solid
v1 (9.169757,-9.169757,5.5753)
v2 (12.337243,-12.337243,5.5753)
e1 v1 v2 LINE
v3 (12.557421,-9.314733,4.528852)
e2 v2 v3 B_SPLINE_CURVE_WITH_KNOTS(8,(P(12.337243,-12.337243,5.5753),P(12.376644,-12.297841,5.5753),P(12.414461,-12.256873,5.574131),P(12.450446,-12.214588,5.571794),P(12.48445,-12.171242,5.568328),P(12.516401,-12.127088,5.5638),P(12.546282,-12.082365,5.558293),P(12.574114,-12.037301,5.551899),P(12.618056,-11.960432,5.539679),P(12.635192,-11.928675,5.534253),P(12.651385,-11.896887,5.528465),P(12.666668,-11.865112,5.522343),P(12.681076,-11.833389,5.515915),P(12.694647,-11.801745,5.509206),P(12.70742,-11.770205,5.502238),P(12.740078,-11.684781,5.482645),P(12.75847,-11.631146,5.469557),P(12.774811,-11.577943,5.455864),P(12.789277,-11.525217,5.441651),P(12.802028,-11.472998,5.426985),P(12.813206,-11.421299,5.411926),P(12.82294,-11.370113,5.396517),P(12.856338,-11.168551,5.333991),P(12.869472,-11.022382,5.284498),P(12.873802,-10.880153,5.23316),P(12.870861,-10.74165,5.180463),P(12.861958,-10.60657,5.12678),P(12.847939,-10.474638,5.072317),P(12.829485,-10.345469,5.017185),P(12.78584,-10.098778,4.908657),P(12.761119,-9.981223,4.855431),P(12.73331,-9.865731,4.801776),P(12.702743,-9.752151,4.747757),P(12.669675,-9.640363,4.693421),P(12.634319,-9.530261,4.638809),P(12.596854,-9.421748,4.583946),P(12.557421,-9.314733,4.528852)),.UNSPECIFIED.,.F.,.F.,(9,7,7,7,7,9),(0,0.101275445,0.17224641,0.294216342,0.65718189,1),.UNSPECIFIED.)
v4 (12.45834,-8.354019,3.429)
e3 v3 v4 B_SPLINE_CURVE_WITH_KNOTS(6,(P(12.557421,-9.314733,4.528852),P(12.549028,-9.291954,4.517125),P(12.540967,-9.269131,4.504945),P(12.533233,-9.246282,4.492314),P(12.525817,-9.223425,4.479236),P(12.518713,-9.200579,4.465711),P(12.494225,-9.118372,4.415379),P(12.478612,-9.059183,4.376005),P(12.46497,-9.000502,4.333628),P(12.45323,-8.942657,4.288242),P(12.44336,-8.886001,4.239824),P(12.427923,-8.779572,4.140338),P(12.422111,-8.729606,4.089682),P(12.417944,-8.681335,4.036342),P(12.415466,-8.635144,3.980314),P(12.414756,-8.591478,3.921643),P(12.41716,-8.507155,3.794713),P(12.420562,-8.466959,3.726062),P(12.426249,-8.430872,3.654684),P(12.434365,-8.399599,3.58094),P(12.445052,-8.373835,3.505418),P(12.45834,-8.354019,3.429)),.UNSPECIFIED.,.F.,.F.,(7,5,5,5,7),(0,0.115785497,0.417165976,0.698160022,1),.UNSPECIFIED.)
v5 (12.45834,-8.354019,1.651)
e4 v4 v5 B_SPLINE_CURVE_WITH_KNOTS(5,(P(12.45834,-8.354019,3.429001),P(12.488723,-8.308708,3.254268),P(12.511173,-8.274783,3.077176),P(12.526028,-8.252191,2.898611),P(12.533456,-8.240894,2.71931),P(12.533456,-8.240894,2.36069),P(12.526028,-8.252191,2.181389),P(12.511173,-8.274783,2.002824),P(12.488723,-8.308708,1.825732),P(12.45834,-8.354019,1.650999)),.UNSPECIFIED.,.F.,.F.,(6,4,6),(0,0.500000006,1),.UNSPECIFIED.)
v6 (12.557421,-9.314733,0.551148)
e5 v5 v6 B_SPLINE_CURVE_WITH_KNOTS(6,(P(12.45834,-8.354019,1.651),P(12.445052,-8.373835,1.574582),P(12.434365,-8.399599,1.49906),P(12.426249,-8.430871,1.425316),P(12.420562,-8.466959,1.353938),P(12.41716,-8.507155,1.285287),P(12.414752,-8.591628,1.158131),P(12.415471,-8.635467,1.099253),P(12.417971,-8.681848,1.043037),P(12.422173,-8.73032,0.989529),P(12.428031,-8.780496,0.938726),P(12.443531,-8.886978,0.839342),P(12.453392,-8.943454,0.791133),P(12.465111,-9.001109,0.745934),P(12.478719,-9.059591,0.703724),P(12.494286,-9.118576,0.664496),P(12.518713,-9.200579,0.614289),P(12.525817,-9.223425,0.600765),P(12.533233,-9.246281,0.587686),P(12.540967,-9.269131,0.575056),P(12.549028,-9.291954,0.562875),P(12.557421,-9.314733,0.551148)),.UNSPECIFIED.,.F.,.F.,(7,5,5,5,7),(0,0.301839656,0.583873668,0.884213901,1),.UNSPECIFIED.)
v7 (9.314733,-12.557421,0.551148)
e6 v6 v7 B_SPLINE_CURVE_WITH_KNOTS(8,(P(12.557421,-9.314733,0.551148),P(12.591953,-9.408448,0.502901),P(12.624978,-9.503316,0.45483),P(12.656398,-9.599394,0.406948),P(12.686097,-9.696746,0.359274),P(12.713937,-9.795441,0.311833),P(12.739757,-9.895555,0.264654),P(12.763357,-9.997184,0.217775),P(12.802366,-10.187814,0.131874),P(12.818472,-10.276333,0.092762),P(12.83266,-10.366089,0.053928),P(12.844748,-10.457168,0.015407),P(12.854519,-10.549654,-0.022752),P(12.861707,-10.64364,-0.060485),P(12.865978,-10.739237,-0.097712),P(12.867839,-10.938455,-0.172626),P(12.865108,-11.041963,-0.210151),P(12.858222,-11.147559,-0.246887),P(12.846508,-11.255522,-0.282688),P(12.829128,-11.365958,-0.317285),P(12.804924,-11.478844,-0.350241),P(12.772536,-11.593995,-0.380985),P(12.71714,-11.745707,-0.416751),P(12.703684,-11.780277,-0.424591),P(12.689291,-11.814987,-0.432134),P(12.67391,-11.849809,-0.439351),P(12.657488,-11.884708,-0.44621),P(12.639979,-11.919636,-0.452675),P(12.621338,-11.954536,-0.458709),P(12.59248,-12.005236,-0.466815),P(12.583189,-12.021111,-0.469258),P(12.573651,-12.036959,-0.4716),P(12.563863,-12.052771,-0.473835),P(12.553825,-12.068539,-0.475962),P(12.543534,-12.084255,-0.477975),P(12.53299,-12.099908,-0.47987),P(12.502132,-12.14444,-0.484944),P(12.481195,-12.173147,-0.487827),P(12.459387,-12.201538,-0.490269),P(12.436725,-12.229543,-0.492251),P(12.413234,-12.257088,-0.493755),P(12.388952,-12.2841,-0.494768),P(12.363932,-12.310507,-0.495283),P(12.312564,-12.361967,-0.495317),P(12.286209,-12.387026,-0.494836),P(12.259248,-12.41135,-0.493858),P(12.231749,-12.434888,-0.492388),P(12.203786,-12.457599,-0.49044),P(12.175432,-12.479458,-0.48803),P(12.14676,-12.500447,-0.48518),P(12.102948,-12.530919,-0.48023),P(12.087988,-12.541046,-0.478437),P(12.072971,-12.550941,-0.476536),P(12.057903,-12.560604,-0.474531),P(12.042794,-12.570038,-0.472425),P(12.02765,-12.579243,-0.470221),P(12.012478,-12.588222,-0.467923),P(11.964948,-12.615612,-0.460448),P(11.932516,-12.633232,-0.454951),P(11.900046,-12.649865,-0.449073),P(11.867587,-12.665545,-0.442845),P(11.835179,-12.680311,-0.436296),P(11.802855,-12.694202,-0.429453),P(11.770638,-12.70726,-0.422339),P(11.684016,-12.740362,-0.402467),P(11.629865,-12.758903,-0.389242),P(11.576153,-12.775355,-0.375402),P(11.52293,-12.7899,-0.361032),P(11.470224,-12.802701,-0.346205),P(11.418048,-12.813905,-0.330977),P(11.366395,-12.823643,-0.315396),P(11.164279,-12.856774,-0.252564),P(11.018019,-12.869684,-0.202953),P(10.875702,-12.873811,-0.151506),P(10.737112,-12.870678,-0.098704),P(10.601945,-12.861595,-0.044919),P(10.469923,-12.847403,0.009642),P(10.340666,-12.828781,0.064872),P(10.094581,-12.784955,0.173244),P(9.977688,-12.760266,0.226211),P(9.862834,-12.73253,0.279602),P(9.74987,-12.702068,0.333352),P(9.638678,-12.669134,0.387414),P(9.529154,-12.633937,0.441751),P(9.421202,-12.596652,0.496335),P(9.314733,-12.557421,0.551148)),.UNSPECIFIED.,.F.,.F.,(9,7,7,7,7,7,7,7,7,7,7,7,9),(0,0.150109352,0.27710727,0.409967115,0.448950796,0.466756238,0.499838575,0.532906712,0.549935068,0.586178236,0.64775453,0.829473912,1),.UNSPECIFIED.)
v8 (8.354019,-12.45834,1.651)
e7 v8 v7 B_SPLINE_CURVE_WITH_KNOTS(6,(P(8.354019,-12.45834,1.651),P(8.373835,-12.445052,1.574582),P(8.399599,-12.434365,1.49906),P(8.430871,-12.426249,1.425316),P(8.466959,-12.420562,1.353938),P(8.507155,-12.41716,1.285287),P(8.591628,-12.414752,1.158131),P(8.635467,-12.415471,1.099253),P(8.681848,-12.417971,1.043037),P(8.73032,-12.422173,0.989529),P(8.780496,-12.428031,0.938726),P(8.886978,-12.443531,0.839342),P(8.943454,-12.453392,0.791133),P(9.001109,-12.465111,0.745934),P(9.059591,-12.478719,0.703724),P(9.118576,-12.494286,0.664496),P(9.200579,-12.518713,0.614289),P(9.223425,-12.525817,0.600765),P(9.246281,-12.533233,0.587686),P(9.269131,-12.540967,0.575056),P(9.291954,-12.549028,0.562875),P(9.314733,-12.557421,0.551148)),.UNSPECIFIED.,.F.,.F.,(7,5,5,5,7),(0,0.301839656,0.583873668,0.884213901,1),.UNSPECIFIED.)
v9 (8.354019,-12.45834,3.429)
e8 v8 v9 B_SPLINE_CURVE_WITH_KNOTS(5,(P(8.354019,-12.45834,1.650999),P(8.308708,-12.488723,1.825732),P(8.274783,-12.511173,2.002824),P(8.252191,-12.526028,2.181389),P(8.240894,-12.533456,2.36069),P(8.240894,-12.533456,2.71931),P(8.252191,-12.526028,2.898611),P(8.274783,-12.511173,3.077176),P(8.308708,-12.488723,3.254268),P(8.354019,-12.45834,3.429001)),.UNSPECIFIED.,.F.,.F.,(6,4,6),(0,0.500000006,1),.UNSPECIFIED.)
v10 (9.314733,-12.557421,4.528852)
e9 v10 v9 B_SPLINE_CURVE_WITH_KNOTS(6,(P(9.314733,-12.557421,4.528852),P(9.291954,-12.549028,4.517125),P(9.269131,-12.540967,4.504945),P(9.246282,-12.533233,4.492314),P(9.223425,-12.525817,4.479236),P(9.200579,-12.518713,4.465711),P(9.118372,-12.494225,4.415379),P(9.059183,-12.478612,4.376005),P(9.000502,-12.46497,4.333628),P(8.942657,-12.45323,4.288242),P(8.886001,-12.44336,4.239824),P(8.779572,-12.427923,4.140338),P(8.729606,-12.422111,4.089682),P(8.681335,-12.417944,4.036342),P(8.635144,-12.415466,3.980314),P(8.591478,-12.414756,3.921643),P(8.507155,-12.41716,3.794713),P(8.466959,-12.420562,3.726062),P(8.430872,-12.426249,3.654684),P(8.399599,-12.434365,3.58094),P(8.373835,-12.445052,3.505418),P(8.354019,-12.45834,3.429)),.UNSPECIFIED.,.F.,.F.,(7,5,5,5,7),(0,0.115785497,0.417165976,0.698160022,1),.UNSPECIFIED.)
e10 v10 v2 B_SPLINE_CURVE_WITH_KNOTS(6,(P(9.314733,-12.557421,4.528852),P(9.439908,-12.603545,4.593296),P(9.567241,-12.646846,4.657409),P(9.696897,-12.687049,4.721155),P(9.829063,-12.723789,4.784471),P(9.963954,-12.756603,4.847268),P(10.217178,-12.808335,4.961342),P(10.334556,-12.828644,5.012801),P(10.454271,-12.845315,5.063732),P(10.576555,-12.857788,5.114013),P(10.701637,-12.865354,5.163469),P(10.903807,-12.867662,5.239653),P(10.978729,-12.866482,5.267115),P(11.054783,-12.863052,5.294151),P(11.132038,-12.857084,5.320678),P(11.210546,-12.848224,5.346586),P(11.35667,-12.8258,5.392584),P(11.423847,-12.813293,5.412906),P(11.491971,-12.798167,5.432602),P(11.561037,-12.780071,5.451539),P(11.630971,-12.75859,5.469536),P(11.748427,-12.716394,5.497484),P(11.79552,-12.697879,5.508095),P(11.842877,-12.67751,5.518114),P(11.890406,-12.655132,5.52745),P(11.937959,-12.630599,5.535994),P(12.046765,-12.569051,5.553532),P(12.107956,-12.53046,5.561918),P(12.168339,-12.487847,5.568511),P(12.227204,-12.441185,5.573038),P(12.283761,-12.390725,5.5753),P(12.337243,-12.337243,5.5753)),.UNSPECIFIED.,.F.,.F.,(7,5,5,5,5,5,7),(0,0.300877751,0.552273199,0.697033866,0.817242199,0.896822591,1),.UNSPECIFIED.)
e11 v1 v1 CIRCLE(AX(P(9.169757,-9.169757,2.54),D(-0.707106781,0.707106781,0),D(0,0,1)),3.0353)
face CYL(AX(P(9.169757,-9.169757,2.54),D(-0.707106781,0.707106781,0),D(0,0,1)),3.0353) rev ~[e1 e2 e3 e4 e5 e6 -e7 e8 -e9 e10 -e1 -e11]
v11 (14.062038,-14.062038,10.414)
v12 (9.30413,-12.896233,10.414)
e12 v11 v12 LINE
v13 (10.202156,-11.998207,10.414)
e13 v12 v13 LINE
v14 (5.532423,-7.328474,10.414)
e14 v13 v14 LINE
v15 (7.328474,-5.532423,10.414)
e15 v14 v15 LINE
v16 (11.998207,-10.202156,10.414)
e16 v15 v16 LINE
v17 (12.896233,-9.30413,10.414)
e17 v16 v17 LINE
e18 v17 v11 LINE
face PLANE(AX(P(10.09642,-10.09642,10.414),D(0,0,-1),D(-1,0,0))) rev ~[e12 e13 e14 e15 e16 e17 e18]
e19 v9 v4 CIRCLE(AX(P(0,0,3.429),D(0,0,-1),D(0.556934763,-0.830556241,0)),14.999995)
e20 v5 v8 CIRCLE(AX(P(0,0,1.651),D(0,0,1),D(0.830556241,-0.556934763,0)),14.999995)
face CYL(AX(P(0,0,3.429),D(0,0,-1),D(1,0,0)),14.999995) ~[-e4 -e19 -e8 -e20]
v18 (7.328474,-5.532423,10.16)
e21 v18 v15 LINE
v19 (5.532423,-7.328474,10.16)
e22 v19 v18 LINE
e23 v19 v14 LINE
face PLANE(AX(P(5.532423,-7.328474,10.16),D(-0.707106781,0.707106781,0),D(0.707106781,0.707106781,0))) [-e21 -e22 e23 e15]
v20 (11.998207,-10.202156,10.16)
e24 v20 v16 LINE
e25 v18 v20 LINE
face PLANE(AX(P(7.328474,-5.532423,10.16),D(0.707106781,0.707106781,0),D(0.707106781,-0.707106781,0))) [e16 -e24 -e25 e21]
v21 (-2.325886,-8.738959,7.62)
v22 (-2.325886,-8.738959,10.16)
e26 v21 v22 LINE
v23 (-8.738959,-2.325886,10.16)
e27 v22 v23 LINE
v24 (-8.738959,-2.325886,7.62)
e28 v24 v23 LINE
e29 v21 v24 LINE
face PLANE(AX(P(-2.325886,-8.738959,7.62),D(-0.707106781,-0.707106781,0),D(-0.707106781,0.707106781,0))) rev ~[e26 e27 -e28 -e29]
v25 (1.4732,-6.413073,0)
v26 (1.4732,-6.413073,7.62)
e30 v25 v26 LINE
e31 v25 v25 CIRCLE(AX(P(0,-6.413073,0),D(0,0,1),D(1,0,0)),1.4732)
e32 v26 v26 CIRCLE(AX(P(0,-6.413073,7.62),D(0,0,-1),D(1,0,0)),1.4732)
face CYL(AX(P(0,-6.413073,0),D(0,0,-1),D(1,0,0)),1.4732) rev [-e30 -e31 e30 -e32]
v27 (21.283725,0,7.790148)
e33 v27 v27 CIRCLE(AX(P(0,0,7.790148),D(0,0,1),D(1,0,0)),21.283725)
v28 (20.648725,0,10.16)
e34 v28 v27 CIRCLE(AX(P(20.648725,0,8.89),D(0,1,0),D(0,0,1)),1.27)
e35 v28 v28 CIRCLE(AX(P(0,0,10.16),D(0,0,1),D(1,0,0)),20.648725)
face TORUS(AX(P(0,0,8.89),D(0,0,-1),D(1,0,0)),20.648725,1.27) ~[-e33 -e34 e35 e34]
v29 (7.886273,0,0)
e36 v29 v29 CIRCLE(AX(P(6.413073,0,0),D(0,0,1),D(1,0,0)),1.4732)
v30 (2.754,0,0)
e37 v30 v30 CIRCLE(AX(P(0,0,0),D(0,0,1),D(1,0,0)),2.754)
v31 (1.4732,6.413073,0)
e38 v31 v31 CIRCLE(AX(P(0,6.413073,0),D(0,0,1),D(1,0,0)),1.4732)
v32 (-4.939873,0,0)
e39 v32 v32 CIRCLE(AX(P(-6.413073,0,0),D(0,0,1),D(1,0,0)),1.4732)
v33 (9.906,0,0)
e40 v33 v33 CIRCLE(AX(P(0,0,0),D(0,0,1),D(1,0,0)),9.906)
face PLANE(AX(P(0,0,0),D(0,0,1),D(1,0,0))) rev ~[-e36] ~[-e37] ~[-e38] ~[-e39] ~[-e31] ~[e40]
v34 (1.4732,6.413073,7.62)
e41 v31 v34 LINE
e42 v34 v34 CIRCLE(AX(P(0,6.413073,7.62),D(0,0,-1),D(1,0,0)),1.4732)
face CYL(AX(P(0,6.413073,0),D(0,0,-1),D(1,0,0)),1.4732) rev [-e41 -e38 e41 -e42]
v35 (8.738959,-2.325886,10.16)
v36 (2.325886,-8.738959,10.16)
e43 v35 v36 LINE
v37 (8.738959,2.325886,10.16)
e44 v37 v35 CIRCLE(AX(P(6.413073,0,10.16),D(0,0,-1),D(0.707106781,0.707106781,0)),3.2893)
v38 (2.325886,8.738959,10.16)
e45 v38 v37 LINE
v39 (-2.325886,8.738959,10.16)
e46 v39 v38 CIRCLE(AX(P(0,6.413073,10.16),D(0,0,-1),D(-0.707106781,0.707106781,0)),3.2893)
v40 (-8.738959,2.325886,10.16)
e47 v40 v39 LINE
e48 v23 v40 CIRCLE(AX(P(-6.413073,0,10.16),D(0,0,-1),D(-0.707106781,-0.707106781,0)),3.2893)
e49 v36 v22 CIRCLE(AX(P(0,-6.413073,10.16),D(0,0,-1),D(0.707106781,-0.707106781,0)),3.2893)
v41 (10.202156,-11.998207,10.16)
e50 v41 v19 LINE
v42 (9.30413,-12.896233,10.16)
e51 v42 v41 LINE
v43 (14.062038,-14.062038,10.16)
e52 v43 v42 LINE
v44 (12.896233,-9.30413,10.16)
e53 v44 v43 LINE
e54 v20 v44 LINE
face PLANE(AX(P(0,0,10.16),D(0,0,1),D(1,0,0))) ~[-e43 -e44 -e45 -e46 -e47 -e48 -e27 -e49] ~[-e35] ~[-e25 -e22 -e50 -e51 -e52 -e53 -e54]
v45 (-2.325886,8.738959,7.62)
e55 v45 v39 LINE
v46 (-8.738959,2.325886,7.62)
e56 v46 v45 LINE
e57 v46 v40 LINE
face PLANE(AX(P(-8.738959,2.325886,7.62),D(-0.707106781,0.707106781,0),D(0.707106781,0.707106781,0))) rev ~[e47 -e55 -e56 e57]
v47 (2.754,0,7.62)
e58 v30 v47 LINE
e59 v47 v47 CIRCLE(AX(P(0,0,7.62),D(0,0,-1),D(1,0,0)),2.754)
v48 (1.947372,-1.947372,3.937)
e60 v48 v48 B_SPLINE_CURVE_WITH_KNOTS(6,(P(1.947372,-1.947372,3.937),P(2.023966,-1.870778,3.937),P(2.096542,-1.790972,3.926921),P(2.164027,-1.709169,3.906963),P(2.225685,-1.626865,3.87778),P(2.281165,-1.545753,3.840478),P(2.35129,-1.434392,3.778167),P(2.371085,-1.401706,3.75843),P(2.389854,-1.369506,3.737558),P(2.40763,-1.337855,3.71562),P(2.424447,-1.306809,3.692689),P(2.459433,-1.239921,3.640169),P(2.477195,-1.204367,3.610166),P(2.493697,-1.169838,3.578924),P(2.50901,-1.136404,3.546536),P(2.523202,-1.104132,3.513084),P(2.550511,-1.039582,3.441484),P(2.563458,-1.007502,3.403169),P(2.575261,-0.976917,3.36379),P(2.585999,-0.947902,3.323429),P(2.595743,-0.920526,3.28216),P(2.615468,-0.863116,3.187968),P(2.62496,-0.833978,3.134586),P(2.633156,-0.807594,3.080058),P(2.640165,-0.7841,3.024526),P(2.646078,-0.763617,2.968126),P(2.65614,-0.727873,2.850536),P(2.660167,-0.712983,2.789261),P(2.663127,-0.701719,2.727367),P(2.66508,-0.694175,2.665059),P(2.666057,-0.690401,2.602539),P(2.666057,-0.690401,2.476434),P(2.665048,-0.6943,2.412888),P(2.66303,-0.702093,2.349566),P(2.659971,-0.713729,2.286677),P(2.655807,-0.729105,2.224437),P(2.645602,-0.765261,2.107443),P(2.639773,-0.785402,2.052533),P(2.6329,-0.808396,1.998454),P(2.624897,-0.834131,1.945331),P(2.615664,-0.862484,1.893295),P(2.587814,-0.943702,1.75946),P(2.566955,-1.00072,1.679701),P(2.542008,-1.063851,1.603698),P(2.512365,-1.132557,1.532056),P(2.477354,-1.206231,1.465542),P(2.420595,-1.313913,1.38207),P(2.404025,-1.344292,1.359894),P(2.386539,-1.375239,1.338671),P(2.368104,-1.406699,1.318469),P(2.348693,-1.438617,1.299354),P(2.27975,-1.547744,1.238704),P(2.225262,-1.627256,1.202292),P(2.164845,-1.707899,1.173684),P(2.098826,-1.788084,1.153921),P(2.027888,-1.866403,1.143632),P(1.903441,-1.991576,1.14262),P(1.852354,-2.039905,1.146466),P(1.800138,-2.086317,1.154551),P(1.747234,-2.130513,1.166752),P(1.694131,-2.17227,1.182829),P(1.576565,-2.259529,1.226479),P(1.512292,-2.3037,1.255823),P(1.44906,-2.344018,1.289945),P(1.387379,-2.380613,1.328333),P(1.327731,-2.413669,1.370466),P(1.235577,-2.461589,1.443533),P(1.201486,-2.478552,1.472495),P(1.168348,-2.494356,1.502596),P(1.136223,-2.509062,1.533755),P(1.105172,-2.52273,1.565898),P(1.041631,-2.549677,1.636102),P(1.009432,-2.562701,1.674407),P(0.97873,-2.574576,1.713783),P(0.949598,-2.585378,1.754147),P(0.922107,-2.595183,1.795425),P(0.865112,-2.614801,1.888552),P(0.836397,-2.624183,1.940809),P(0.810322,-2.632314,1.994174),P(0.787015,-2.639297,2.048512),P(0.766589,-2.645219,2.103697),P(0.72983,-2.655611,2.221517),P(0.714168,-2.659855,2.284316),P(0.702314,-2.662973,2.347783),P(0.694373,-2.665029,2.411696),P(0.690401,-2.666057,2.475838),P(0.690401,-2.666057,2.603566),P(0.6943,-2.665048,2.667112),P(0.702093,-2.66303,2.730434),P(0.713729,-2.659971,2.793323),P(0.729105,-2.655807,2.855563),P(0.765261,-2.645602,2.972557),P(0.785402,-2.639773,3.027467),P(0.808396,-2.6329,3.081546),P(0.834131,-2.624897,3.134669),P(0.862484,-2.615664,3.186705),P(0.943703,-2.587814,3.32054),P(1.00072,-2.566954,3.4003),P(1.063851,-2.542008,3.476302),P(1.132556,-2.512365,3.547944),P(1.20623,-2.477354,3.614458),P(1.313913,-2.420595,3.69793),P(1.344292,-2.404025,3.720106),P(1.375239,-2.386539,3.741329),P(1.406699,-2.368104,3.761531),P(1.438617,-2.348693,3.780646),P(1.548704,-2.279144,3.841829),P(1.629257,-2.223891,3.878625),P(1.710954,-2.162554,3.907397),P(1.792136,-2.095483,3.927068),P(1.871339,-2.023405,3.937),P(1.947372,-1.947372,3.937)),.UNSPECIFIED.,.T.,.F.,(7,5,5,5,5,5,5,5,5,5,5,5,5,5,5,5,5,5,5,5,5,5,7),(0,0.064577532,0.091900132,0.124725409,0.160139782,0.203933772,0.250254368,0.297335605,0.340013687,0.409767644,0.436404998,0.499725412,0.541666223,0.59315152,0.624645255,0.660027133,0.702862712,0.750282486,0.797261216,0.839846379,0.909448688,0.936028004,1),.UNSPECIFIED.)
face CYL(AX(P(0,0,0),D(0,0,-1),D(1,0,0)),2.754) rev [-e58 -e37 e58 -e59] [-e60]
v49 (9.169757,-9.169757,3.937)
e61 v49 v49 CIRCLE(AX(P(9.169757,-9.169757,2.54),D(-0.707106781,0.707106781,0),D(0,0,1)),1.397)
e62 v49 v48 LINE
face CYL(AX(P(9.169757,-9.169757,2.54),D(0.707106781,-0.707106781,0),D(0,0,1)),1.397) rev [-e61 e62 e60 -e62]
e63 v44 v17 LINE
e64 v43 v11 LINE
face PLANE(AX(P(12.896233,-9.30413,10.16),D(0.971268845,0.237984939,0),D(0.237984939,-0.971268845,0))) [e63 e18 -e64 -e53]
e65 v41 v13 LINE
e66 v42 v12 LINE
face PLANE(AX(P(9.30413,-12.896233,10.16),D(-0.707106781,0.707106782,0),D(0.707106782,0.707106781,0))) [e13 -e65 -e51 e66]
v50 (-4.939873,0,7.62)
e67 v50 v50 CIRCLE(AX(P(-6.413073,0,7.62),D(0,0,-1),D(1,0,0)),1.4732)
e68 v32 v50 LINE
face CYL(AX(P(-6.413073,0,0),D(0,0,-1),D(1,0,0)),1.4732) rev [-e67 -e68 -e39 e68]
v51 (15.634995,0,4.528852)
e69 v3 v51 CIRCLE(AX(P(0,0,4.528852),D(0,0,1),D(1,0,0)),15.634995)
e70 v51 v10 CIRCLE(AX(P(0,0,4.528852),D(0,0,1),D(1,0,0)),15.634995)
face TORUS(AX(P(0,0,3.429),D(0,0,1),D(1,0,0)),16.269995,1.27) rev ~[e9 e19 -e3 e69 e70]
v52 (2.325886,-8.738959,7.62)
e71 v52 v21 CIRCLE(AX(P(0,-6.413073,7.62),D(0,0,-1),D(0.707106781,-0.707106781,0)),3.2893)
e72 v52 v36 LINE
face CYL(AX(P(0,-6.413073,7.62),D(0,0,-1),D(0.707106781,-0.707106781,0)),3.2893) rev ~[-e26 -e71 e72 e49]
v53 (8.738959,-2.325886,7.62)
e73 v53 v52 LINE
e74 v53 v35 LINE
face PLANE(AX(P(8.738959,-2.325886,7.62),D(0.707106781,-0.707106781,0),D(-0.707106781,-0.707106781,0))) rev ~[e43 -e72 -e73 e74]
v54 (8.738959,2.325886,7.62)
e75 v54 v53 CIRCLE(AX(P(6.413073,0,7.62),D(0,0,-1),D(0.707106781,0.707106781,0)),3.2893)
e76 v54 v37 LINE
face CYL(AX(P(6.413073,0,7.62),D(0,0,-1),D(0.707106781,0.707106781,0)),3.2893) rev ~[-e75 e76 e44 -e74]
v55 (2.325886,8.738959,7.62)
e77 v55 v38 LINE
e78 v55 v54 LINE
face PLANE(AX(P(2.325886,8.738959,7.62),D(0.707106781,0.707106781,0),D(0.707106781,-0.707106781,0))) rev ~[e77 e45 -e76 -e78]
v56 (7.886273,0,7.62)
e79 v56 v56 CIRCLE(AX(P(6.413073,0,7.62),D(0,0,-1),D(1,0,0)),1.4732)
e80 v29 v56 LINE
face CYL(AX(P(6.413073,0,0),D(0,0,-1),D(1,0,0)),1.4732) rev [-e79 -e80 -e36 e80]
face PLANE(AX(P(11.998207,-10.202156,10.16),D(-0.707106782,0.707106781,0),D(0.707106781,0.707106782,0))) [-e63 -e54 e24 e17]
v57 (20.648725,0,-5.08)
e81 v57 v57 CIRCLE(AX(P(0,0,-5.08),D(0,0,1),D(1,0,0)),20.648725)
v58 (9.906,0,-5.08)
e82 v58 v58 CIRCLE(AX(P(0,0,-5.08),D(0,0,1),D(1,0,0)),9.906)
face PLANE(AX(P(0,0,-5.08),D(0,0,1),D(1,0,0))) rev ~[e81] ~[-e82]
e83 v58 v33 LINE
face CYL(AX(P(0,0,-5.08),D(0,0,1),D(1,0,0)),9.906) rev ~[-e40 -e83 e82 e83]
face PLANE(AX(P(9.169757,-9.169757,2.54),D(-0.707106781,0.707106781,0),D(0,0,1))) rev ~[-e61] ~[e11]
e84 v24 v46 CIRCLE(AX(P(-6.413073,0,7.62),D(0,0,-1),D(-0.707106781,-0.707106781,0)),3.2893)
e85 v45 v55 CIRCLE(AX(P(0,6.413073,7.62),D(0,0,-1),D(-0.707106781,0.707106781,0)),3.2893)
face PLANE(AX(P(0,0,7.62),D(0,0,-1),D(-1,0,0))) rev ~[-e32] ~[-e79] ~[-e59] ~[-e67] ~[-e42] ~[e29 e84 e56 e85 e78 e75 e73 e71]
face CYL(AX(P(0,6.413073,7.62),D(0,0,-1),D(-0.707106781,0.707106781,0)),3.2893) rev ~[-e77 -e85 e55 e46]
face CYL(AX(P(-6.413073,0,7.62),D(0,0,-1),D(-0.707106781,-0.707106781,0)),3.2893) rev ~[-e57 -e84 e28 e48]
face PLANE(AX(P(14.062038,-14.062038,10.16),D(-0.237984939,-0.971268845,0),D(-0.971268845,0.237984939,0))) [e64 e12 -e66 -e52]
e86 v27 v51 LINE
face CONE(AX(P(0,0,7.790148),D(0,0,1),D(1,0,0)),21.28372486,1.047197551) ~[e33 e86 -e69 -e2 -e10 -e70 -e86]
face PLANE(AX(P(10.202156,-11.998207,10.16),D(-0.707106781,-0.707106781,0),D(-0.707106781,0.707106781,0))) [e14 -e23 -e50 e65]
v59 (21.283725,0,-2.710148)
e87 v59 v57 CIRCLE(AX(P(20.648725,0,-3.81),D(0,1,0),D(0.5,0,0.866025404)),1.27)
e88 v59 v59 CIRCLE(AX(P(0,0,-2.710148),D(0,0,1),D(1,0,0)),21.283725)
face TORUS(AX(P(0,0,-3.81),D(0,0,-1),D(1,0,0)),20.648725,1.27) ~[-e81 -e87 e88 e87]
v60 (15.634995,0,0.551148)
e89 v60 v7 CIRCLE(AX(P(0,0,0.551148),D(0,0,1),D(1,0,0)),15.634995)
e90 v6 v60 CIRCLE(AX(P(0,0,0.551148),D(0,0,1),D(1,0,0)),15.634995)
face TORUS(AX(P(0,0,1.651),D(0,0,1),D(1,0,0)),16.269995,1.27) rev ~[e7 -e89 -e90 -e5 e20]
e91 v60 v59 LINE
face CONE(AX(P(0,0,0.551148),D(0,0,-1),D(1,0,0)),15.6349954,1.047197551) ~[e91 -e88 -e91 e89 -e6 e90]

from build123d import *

# Parameters (mm, degrees)
SKETCH1_R           = 9.525
SKETCH1_R_2         = 2.754
SKETCH1_R_3         = 1.4732
BOSS_EXTRUDE1_DEPTH = 10.16
SKETCH4_R           = 3.0353
CUT_EXTRUDE1_DEPTH  = 5.08
CUT_EXTRUDE2_REACH  = 47.124
SKETCH4_3_R         = 1.397
CUT_EXTRUDE3_DEPTH  = 34.498522471
BOSS_EXTRUDE2_DEPTH = 0.254


with BuildPart() as part:
    # Sketch1 → Boss-Extrude1 (new body)
    with BuildSketch(Plane.XY):
        Circle(SKETCH1_R)
        Circle(SKETCH1_R_2, mode=Mode.SUBTRACT)
        with Locations((0, 6.413072646)):
            Circle(SKETCH1_R_3, mode=Mode.SUBTRACT)
        with Locations((6.413072646, 0)):
            Circle(SKETCH1_R_3, mode=Mode.SUBTRACT)
        with Locations((0, -6.413072646)):
            Circle(SKETCH1_R_3, mode=Mode.SUBTRACT)
        with Locations((-6.413072646, 0)):
            Circle(SKETCH1_R_3, mode=Mode.SUBTRACT)
    extrude(amount=BOSS_EXTRUDE1_DEPTH)

    # Sketch2 → Revolve1 (revolve)
    with BuildSketch(Plane(origin=(0, 0, 0), x_dir=(1, 0, 0), z_dir=(0, 1, 0))):
        with BuildLine():
            Line((14.9999954, -3.429), (14.9999954, -1.651))
            ThreePointArc((14.9999954, -1.651), (15.170143137, -1.016), (15.6349954, -0.551147737))
            Line((15.6349954, -0.551147737), (21.28372486, 2.710147737))
            ThreePointArc((21.28372486, 2.710147737), (21.87545066, 4.138700187), (20.64872486, 5.08))
            Line((20.64872486, 5.08), (9.906, 5.08))
            Line((9.906, 5.08), (9.906, 0))
            Line((9.906, 0), (9.525, 0))
            Line((9.525, 0), (9.525, -10.16))
            Line((9.525, -10.16), (20.64872486, -10.16))
            ThreePointArc((20.64872486, -10.16), (21.87545066, -9.218700187), (21.28372486, -7.790147737))
            Line((21.28372486, -7.790147737), (15.6349954, -4.528852263))
            ThreePointArc((15.6349954, -4.528852263), (15.170143137, -4.064), (14.9999954, -3.429))
        make_face()
    revolve(axis=Axis((0, 0, -5.08), (0, 0, 1)))

    # Sketch4 → Cut-Extrude1 (cut)
    with BuildSketch(Plane(origin=(9.169757486, -9.169757486, 0), x_dir=(0, 0, 1), z_dir=(-0.7071067811865487, 0.7071067811865464, 0))):
        with Locations((2.54, 0)):
            Circle(SKETCH4_R)
    extrude(amount=-CUT_EXTRUDE1_DEPTH, mode=Mode.SUBTRACT)

    # Sketch4<3> → Cut-Extrude2 (cut, up to next)
    with BuildSketch(Plane(origin=(9.169757486, -9.169757486, 0), x_dir=(0, 0, 1), z_dir=(-0.7071067811865487, 0.7071067811865464, 0)), mode=Mode.PRIVATE) as cut_extrude2_sk1:
        with Locations((2.54, 0)):
            Circle(SKETCH4_3_R)
    cut_extrude2_tool1 = extrude(cut_extrude2_sk1.sketch, amount=CUT_EXTRUDE2_REACH, mode=Mode.PRIVATE) & part.part
    add(cut_extrude2_tool1.solids().sort_by_distance((9.169757, -9.169757, 2.54))[0], mode=Mode.SUBTRACT)

    # Sketch5 → Cut-Extrude3 (cut, through all)
    with BuildSketch(Plane(origin=(0, 0, 7.62), x_dir=(-1, 0, 0), z_dir=(0, 0, -1))):
        with BuildLine():
            Line((8.738958982, 2.325886335), (2.325886335, 8.738958982))
            ThreePointArc((2.325886335, 8.738958982), (0, 9.702372646), (-2.325886335, 8.738958982))
            Line((-2.325886335, 8.738958982), (-8.738958982, 2.325886335))
            ThreePointArc((-8.738958982, 2.325886335), (-9.702372646, 0), (-8.738958982, -2.325886335))
            Line((-8.738958982, -2.325886335), (-2.325886335, -8.738958982))
            ThreePointArc((-2.325886335, -8.738958982), (0, -9.702372646), (2.325886335, -8.738958982))
            Line((2.325886335, -8.738958982), (8.738958982, -2.325886335))
            ThreePointArc((8.738958982, -2.325886335), (9.702372646, 0), (8.738958982, 2.325886335))
        make_face()
    extrude(amount=-CUT_EXTRUDE3_DEPTH, mode=Mode.SUBTRACT)

    # Sketch6 → Boss-Extrude2 (add)
    with BuildSketch(Plane.XY.offset(10.16)):
        Polygon((5.532422659, -7.328473883), (7.328473883, -5.532422659), (11.998207066, -10.202155842), (12.896232678, -9.304130229), (14.062038004, -14.062038004), (9.304130229, -12.896232678), (10.202155842, -11.998207066), align=None)
    extrude(amount=BOSS_EXTRUDE2_DEPTH)


solid = part.part
